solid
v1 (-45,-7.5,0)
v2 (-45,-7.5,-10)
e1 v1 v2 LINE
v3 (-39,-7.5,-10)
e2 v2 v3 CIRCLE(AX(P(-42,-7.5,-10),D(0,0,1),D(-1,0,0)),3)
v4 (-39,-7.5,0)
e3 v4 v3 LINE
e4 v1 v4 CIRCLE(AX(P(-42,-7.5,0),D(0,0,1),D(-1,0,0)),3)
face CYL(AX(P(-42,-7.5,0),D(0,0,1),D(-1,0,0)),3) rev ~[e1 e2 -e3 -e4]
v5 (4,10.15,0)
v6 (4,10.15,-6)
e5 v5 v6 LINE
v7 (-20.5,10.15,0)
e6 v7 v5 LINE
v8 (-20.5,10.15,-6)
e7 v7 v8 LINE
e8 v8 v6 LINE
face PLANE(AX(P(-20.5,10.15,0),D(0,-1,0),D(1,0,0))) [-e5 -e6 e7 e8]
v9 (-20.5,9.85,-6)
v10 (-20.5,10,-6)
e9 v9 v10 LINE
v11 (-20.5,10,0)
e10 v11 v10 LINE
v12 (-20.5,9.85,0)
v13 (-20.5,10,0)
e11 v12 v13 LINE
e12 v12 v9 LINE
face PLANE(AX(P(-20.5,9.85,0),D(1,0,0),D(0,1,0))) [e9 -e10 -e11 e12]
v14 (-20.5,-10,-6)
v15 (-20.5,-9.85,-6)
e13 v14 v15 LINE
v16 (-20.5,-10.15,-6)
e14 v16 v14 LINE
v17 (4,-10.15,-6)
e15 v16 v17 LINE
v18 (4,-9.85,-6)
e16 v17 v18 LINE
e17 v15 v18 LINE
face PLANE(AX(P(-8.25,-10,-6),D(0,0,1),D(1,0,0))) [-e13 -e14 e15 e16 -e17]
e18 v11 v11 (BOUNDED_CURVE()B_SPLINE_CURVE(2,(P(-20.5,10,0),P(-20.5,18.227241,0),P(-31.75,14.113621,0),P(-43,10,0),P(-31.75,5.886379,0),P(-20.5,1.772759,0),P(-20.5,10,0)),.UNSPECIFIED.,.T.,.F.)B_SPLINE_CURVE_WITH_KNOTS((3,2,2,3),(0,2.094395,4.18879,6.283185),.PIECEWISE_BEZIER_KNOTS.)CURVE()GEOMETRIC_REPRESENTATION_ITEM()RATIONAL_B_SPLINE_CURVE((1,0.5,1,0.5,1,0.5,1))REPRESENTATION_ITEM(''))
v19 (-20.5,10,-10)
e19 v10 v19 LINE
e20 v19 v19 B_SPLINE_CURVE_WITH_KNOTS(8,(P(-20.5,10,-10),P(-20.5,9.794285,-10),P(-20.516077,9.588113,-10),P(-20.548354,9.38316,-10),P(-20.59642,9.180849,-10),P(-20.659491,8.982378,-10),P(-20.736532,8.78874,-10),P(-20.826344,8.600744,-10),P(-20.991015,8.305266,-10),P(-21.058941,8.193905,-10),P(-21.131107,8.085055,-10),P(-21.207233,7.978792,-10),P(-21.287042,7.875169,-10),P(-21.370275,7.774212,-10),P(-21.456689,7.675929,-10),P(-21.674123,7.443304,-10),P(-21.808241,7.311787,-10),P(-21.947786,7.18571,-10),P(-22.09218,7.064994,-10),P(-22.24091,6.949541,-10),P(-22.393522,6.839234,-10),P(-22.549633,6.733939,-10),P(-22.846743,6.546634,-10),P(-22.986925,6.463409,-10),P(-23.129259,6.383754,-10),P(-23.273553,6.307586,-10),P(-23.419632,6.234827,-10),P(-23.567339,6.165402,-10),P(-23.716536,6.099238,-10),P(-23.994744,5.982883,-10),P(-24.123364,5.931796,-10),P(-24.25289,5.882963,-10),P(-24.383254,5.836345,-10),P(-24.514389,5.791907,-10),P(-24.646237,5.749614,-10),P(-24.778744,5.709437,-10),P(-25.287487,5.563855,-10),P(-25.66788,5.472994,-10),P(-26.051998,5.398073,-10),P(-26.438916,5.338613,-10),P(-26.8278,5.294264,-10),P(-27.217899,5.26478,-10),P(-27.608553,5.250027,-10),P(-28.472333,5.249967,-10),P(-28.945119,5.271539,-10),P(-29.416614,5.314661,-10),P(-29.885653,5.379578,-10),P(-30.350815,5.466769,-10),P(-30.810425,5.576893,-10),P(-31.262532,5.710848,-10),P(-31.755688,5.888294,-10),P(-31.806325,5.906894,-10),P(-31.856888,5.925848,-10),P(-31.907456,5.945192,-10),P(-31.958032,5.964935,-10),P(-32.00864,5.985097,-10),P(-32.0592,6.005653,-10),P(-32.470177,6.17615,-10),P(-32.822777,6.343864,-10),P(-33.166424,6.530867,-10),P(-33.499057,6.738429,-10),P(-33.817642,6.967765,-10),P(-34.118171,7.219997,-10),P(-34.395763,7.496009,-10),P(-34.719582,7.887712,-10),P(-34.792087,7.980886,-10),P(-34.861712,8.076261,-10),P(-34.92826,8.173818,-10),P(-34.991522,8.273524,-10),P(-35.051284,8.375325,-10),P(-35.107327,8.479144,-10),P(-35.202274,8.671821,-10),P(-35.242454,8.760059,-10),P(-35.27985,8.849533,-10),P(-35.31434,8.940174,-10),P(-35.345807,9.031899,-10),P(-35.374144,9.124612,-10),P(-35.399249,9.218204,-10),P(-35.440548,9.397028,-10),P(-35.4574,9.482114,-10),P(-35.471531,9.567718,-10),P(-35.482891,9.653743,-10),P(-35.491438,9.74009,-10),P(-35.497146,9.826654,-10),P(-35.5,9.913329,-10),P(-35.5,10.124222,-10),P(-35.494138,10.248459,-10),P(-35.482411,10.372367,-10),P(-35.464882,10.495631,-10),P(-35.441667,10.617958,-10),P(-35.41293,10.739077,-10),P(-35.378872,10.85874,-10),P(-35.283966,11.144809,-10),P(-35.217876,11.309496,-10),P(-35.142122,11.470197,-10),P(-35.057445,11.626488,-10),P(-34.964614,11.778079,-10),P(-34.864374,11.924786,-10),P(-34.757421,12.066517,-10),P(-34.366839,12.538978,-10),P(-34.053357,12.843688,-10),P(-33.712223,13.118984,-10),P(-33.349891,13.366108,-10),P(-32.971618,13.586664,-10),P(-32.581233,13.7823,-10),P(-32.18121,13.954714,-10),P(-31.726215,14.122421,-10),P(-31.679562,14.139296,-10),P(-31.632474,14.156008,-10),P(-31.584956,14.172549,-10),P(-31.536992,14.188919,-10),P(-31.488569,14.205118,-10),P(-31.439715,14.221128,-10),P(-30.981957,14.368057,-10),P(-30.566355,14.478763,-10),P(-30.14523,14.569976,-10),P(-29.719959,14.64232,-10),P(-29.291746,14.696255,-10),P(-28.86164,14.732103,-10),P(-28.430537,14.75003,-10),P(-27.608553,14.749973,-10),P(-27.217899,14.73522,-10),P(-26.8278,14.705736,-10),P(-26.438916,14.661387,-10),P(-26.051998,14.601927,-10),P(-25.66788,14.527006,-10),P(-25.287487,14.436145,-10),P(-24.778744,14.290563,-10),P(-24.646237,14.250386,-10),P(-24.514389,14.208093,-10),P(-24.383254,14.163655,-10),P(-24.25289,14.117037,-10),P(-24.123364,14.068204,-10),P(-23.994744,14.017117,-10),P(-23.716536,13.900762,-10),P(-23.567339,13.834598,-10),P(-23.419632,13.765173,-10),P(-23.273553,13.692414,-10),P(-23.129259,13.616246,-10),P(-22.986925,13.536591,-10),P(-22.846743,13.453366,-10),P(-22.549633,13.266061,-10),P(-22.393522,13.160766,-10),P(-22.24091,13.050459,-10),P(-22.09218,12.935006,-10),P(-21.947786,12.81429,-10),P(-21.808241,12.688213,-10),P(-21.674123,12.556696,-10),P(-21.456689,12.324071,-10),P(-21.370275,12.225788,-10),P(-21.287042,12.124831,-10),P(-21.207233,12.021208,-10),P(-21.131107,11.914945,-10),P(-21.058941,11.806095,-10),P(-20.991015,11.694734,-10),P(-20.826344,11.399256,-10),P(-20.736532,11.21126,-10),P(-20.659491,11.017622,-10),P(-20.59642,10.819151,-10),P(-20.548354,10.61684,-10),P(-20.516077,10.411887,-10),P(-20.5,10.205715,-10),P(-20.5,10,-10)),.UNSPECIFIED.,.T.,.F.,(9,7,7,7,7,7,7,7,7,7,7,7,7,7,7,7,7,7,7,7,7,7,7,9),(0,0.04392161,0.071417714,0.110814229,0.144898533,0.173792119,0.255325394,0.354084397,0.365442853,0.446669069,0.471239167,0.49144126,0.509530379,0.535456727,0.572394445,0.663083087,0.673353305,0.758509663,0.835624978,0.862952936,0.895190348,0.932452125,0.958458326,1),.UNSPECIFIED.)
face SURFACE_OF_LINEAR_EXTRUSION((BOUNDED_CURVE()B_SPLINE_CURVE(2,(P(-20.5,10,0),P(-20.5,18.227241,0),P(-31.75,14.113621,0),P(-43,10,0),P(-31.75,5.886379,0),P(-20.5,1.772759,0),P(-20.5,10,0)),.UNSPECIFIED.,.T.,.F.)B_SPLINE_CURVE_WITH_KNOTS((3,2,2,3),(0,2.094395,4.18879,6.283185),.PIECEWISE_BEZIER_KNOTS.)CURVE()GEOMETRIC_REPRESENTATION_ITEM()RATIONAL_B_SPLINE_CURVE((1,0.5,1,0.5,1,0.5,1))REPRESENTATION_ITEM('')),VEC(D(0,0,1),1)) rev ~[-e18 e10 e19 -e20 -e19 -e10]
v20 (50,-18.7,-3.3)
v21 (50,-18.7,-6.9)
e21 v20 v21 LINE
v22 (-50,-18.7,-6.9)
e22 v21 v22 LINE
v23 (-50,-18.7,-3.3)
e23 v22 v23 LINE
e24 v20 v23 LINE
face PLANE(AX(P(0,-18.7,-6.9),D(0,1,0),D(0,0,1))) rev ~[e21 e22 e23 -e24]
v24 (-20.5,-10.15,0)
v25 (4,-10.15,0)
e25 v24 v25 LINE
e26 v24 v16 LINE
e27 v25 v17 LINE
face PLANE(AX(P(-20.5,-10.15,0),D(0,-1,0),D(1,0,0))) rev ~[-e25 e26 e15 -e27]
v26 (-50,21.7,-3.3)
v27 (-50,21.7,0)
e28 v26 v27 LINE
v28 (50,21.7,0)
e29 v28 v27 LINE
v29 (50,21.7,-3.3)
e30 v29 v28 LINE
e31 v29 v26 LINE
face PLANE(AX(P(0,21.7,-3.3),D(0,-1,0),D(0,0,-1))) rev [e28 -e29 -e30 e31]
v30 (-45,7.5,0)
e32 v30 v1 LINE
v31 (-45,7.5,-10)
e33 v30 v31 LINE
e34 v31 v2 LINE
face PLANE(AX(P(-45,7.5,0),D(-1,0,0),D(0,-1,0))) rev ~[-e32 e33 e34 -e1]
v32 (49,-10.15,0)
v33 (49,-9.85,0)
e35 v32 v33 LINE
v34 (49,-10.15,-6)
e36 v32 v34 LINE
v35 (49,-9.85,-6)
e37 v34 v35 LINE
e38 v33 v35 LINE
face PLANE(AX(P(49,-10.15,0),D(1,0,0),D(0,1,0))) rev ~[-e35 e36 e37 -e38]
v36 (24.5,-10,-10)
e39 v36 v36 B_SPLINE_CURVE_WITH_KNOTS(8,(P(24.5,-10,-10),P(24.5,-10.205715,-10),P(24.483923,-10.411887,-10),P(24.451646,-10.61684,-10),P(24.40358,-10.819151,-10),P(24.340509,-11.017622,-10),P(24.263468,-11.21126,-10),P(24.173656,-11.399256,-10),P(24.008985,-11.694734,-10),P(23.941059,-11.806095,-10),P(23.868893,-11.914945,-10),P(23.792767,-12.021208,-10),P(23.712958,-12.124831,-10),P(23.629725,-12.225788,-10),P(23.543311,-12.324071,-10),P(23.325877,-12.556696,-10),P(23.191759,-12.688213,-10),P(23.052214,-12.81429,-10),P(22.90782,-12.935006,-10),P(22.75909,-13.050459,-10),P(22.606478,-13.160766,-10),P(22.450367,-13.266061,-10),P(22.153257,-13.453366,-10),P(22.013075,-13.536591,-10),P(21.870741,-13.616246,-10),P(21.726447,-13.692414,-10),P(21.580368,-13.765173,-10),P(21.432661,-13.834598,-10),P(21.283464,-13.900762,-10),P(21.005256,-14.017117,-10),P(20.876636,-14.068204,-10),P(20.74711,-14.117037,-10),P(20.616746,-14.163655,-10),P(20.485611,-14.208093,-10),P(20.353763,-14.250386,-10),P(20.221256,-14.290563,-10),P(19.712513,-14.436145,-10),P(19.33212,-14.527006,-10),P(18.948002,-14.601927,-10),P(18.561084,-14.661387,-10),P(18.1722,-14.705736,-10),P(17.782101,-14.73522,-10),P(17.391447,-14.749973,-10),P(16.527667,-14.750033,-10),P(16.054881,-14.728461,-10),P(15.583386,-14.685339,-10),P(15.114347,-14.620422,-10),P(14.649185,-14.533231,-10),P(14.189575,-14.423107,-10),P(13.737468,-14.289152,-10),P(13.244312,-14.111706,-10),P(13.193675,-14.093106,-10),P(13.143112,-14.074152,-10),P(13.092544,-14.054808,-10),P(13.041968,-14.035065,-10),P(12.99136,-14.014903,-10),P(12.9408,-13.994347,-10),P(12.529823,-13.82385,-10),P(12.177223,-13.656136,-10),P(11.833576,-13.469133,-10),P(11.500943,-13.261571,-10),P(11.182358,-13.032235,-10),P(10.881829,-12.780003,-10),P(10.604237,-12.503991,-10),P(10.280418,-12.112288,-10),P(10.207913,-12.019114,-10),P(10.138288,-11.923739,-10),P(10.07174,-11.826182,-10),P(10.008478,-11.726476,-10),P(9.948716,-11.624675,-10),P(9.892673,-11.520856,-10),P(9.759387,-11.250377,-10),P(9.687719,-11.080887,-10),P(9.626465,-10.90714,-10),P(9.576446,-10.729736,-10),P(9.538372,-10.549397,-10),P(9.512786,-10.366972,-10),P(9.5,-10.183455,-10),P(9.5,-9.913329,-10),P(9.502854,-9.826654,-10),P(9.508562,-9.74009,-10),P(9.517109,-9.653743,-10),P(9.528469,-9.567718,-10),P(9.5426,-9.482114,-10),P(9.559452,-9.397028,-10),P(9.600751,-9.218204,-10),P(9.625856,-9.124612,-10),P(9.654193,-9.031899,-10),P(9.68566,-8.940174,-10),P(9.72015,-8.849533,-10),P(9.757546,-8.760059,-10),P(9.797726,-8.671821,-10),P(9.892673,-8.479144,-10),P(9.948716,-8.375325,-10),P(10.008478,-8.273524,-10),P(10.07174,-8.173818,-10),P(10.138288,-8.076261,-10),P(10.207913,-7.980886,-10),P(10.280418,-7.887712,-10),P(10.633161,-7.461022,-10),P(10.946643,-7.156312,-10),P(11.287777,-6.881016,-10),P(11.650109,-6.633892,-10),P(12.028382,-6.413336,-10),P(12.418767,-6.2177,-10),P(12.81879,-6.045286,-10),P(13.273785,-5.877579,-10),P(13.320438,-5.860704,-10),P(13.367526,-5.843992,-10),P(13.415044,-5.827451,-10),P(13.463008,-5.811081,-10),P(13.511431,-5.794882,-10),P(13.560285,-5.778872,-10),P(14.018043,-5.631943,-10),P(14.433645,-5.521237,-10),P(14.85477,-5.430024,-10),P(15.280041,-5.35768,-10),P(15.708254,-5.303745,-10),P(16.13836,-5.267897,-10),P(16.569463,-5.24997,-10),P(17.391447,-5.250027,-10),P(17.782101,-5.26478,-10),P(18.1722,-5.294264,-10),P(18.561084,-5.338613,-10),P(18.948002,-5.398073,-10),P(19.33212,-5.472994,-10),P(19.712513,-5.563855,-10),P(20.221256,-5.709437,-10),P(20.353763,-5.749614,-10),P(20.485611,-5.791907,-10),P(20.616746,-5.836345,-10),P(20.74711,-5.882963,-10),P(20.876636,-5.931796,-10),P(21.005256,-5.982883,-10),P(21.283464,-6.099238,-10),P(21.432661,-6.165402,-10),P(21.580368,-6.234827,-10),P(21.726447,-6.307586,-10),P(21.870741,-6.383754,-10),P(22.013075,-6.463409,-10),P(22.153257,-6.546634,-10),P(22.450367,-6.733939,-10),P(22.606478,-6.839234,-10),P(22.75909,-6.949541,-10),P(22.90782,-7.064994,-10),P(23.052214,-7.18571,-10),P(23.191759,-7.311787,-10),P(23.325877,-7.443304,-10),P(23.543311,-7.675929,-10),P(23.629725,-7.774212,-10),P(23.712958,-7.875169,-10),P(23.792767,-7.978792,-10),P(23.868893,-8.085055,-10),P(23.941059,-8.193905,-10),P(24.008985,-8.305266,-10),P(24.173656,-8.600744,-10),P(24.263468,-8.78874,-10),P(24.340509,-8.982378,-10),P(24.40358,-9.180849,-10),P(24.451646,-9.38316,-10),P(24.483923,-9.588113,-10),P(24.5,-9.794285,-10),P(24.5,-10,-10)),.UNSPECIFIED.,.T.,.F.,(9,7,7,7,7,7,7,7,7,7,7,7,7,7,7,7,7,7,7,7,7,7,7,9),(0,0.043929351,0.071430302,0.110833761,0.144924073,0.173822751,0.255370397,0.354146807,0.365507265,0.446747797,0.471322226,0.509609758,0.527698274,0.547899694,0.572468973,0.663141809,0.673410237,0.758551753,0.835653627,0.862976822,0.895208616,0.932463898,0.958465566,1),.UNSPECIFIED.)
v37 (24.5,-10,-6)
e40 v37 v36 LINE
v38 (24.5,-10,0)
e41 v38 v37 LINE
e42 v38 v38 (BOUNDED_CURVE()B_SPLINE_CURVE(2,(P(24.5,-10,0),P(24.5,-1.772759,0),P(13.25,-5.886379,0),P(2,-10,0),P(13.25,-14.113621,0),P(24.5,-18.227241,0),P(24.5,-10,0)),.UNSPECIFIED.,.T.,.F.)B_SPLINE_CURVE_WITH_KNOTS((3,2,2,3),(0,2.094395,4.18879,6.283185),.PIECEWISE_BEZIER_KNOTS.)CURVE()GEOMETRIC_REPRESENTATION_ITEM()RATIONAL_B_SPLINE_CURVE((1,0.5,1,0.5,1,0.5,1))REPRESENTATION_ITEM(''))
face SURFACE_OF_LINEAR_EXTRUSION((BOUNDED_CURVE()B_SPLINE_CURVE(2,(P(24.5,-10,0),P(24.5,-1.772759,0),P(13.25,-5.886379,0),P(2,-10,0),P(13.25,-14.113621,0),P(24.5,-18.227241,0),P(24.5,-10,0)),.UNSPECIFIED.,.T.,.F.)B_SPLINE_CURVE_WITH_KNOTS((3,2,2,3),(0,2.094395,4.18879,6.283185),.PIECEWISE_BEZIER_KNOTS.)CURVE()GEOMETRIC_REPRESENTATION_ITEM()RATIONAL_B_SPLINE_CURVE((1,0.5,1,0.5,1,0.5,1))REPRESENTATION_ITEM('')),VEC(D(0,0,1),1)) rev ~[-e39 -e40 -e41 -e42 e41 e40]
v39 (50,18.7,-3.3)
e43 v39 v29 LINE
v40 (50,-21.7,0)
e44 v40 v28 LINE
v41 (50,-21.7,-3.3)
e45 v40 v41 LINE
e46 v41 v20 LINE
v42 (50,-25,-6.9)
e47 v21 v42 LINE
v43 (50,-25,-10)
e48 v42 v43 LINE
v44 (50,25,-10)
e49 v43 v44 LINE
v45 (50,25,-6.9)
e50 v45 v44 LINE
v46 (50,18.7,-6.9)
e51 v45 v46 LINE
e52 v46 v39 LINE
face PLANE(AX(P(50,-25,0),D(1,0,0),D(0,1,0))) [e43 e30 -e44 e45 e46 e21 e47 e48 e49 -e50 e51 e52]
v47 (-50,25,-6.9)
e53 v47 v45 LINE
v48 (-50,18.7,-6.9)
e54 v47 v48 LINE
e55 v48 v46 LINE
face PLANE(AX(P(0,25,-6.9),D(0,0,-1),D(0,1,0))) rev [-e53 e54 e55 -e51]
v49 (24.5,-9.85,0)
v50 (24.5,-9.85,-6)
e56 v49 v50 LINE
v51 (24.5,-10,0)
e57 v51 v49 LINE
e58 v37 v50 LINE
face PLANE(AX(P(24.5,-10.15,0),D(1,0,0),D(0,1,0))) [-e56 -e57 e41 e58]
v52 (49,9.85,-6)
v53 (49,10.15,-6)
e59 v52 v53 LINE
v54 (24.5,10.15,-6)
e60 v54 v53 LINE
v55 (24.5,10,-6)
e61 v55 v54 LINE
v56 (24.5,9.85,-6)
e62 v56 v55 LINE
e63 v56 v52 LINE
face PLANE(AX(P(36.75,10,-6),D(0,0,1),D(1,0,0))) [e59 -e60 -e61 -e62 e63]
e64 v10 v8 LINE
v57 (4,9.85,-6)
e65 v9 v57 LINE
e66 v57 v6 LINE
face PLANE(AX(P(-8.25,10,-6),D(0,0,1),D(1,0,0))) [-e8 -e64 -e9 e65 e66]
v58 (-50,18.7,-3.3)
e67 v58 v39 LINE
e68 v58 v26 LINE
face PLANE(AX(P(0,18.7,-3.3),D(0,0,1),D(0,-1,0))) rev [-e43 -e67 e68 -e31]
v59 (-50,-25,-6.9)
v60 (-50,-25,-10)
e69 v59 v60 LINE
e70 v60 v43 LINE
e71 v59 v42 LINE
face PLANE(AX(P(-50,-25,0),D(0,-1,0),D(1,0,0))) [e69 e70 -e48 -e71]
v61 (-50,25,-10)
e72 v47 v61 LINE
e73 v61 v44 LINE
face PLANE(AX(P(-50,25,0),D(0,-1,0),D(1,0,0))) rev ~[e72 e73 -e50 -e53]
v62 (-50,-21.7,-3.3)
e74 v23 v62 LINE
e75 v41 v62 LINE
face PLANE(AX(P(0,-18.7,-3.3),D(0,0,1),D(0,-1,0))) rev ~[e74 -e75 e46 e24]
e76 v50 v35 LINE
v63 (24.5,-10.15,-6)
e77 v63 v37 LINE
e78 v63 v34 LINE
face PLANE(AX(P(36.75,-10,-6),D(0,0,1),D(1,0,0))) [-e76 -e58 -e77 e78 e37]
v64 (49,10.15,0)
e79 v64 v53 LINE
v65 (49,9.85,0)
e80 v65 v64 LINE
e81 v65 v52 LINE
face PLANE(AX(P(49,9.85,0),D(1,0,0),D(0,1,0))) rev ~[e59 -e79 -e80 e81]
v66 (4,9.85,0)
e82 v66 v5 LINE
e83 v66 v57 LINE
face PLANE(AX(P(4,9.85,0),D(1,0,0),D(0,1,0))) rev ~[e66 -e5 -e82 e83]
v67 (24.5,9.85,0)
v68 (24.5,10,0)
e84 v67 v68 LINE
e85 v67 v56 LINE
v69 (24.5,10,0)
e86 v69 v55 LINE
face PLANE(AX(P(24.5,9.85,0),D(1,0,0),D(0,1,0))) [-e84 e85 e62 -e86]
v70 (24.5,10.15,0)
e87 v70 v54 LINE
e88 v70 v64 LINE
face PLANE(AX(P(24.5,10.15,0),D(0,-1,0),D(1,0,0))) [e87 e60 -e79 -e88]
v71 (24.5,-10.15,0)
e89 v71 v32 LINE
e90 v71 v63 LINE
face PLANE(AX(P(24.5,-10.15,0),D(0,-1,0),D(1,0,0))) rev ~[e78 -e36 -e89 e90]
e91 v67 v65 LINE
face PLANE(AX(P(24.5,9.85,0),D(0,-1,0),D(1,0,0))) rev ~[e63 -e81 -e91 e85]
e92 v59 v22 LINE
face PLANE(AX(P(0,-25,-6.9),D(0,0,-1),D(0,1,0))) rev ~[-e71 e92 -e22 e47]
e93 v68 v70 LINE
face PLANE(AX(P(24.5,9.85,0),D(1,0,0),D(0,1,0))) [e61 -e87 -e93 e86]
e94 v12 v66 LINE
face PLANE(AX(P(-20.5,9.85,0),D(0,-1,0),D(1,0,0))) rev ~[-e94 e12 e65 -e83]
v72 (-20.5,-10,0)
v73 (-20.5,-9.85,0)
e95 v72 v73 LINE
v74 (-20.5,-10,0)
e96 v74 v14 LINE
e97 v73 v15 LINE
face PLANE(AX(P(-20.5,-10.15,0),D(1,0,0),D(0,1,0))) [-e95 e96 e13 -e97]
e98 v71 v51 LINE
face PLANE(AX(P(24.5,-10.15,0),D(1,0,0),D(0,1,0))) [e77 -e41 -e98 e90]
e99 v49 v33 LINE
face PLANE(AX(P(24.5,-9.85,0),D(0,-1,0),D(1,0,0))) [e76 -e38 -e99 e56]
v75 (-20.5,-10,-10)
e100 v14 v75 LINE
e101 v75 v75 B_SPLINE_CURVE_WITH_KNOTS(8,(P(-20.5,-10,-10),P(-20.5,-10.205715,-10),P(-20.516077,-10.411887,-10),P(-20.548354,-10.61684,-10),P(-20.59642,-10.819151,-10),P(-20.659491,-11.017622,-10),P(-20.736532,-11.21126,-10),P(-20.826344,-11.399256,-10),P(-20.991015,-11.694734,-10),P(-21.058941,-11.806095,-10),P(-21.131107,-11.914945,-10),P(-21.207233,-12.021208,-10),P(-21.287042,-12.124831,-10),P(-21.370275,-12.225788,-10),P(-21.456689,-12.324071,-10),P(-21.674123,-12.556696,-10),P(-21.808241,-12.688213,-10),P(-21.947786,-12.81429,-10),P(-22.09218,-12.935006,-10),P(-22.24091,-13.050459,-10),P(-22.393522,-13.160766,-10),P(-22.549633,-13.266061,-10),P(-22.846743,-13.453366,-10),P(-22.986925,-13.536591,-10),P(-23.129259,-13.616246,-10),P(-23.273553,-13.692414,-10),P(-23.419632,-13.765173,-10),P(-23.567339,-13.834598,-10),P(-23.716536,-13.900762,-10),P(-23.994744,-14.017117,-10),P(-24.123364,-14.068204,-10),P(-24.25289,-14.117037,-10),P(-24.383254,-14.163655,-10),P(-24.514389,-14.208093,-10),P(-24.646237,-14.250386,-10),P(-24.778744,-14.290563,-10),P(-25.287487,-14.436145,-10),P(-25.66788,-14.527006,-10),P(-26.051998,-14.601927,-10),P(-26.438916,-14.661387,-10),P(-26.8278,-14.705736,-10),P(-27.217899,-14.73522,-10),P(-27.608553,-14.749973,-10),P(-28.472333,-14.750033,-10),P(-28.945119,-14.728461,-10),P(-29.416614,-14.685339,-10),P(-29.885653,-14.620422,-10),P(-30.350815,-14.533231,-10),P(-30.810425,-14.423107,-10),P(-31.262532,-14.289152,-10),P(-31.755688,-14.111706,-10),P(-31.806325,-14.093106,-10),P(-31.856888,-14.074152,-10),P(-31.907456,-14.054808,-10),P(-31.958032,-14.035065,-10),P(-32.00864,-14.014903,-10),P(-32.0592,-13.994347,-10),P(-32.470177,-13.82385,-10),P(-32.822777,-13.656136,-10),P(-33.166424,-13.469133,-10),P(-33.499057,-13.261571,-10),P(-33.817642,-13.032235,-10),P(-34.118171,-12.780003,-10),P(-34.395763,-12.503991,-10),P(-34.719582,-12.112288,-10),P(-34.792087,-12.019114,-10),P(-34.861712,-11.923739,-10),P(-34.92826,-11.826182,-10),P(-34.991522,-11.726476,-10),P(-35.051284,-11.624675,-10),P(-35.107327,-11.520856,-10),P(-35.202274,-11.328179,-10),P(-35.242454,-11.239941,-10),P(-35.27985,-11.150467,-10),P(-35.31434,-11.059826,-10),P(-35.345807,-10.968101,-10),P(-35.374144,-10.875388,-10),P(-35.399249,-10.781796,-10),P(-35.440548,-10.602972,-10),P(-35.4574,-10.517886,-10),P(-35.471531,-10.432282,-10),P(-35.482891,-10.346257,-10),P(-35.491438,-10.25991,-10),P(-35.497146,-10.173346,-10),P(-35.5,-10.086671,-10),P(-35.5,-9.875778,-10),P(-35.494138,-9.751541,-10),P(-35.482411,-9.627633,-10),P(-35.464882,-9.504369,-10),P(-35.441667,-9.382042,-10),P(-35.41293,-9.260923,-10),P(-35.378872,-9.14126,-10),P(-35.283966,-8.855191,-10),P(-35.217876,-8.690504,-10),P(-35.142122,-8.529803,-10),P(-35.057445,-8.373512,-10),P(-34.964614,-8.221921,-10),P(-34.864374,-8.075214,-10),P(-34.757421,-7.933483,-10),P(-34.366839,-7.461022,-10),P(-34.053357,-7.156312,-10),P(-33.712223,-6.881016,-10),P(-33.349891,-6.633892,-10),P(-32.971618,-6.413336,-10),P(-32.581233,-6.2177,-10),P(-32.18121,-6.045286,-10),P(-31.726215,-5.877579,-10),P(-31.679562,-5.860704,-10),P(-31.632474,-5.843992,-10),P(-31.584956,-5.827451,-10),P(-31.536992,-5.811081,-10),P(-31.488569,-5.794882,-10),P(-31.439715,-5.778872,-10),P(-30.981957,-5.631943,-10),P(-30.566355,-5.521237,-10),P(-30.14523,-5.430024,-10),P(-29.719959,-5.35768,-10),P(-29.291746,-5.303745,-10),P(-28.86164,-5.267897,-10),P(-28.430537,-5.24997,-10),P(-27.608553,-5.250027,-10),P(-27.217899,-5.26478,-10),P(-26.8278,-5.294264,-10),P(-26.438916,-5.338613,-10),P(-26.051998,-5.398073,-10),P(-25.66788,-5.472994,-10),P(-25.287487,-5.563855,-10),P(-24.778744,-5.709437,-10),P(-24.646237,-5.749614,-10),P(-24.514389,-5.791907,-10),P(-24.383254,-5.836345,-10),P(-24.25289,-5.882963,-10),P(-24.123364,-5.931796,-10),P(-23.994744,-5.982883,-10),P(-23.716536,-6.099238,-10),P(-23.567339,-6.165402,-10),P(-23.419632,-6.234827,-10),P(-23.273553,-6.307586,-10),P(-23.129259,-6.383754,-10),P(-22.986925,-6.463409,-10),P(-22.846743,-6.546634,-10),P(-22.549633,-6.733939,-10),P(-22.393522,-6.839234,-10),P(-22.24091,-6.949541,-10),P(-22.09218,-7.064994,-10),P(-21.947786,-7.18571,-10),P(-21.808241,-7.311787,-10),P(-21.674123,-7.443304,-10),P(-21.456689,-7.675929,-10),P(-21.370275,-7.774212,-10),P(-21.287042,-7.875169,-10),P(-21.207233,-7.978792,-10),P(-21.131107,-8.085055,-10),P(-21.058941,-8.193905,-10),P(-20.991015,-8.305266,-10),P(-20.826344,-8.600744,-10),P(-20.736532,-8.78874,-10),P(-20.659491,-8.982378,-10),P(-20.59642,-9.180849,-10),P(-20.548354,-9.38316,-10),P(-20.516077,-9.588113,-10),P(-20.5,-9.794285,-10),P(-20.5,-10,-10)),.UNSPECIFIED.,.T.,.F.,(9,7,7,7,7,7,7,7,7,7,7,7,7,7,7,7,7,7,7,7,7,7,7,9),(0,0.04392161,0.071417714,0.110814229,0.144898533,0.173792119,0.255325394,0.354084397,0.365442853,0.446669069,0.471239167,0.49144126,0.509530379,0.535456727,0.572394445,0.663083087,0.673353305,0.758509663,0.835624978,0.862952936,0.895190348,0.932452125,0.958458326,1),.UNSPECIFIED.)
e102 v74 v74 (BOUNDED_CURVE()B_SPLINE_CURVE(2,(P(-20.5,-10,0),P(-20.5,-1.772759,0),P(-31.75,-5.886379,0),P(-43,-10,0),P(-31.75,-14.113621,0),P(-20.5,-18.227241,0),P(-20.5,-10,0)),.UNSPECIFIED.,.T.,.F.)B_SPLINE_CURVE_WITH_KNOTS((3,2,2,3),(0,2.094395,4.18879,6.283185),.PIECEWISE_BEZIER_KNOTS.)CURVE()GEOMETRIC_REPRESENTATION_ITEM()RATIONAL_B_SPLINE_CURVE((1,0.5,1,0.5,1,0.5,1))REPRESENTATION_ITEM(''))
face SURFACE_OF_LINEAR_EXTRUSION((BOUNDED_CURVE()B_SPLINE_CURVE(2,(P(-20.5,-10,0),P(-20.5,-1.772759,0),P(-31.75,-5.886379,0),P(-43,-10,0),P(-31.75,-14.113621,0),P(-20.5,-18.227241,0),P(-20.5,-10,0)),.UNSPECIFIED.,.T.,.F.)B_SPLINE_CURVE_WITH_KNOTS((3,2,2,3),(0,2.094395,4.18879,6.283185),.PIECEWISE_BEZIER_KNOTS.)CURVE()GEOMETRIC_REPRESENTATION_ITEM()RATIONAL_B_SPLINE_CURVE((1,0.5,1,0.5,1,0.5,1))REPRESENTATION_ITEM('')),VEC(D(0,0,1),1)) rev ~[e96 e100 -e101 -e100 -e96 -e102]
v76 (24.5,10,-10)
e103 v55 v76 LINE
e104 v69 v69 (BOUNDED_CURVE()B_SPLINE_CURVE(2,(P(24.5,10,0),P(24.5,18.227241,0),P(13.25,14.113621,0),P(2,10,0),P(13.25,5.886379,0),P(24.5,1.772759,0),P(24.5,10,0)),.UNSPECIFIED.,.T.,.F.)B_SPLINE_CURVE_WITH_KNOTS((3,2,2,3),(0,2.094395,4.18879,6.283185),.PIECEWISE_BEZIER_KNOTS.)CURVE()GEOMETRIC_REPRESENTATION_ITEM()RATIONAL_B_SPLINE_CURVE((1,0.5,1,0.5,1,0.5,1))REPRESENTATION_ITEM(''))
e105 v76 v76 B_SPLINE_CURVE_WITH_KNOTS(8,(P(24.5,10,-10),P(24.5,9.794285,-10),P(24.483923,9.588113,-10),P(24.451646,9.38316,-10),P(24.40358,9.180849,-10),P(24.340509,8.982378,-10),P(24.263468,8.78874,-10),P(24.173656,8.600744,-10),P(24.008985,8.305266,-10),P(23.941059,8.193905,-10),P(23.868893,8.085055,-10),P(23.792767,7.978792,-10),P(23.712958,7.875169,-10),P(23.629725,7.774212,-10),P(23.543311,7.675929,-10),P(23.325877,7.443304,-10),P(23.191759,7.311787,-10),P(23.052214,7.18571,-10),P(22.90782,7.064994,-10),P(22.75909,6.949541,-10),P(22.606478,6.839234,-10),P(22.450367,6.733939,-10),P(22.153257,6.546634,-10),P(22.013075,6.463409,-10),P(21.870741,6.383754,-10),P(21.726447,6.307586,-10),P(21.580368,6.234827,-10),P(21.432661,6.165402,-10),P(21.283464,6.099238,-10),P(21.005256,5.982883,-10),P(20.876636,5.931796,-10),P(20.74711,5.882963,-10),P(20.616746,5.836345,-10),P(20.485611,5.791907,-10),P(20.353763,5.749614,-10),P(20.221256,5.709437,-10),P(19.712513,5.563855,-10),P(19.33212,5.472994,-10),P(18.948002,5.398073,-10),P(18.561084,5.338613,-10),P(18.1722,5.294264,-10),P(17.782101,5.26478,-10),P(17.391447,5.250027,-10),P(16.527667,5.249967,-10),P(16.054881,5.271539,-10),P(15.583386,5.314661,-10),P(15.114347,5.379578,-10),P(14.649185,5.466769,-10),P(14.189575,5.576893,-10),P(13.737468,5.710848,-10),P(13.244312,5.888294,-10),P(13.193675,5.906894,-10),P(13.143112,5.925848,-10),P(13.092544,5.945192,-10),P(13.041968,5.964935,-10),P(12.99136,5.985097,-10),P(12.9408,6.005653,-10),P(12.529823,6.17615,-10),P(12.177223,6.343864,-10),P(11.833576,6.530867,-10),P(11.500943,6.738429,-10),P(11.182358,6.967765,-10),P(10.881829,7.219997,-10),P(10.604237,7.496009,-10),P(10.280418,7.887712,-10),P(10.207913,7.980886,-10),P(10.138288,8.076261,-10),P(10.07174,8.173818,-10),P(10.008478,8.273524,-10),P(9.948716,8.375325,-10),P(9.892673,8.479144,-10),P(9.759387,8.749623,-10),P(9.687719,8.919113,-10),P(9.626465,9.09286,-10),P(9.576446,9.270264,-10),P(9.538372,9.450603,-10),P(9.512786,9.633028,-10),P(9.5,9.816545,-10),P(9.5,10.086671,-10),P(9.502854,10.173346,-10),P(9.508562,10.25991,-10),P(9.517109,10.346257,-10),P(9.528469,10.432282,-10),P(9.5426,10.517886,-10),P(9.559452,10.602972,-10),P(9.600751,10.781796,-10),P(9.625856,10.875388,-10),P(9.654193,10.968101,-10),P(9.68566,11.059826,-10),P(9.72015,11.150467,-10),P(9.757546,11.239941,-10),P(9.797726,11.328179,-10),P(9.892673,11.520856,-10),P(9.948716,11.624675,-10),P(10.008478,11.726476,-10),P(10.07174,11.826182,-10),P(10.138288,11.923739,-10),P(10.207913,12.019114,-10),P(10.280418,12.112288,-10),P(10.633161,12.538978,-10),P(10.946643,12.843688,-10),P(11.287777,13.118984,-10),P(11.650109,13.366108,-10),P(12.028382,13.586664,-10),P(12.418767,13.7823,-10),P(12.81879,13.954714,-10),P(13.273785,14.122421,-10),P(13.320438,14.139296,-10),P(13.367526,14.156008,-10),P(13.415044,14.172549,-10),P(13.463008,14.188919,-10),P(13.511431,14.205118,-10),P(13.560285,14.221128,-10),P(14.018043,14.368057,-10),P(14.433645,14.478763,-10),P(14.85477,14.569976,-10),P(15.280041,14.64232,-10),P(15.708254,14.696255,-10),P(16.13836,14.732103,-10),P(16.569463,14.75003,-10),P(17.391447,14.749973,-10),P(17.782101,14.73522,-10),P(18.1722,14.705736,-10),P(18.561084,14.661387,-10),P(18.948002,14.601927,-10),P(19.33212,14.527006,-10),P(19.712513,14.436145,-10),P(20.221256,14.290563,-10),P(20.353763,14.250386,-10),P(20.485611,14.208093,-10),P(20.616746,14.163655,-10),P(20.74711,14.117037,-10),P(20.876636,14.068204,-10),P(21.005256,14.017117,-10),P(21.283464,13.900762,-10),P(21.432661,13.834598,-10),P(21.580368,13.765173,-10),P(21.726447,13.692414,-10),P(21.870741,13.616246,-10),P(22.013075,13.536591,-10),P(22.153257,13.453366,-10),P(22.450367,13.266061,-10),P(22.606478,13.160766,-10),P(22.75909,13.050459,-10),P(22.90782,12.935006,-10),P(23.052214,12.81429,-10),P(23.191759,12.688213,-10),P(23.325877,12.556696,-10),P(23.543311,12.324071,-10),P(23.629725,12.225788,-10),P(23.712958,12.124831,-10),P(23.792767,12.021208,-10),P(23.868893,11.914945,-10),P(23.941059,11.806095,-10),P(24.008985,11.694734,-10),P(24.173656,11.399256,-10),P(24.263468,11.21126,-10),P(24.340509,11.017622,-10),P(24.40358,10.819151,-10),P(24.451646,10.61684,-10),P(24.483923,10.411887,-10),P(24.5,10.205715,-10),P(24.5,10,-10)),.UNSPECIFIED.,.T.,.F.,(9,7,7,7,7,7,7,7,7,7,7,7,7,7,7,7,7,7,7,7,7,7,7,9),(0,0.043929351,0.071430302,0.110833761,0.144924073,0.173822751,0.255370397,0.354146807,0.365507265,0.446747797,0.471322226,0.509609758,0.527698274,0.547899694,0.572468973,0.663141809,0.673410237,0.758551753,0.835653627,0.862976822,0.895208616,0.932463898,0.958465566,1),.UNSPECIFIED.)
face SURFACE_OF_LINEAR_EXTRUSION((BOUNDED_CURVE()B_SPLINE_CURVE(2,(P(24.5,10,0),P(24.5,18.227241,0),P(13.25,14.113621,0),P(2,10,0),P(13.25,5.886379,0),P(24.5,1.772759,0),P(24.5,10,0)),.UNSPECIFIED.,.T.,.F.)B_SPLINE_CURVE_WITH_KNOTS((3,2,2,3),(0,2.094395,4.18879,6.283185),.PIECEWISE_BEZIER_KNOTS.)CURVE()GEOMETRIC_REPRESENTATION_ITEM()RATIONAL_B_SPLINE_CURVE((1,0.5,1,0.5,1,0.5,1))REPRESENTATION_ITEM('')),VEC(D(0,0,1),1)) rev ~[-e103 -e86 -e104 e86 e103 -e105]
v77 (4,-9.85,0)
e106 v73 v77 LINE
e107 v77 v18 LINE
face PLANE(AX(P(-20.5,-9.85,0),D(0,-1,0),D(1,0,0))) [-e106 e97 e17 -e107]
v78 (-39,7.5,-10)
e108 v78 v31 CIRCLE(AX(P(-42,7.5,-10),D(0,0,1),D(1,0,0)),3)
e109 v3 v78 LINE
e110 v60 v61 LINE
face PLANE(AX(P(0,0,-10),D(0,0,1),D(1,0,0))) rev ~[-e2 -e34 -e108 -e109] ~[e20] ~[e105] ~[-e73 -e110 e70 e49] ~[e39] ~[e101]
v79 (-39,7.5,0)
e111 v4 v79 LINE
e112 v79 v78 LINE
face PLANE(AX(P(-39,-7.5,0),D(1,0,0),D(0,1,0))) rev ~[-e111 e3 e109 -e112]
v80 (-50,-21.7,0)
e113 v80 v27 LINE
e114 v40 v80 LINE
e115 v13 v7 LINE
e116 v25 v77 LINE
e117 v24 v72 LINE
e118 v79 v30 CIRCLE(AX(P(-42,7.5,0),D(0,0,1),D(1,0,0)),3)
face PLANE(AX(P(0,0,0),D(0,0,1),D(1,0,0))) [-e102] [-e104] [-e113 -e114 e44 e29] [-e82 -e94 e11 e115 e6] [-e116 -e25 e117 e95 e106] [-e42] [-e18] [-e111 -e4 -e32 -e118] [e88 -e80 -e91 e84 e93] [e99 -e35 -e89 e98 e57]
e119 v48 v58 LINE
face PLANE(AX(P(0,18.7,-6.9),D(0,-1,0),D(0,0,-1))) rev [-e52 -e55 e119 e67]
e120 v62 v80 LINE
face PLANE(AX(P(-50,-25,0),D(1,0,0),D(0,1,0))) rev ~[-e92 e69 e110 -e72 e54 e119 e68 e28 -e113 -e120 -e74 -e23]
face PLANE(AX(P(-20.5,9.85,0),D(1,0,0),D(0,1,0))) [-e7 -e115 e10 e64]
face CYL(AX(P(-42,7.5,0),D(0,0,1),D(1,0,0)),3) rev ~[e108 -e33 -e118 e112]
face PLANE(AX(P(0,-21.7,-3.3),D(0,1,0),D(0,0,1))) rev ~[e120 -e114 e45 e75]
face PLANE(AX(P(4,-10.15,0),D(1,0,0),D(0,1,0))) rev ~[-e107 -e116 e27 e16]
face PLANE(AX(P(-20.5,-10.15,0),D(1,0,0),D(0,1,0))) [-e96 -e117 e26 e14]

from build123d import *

# Parameters (mm, degrees)
SKETCH_W             = 100
SKETCH_H             = 50
PAD_DEPTH            = 10
POCKET_DEPTH         = 21
POCKET001_DEPTH      = 274.500444
POCKET001_DEPTH_BACK = 274.500444
POCKET002_DEPTH      = 10.001
SKETCH005_W          = 24.5
SKETCH005_H          = 0.3
POCKET003_DEPTH      = 6


with BuildPart() as part:
    # Sketch → Pad (new body)
    with BuildSketch(Plane.XY):
        Rectangle(SKETCH_W, SKETCH_H)
    extrude(amount=-PAD_DEPTH)

    # Sketch001 → Pocket (cut)
    with BuildSketch(Plane.XY):
        with BuildLine():
            add(Edge.make_bspline(
                [(-20.5, 10), (-20.5, 18.227241), (-31.75, 14.113621), (-43, 10), (-31.75, 5.886379), (-20.5, 1.772759), (-20.5, 10)],
                knots=[0, 0, 0, 2.094395, 2.094395, 4.18879, 4.18879, 6.283185, 6.283185, 6.283185], degree=2, weights=[1, 0.5, 1, 0.5, 1, 0.5, 1]))
        make_face()
        with BuildLine():
            add(Edge.make_bspline(
                [(24.5, 10), (24.5, 18.227241), (13.25, 14.113621), (2, 10), (13.25, 5.886379), (24.5, 1.772759), (24.5, 10)],
                knots=[0, 0, 0, 2.094395, 2.094395, 4.18879, 4.18879, 6.283185, 6.283185, 6.283185], degree=2, weights=[1, 0.5, 1, 0.5, 1, 0.5, 1]))
        make_face()
        with BuildLine():
            add(Edge.make_bspline(
                [(-20.5, -10), (-20.5, -1.772759), (-31.75, -5.886379), (-43, -10), (-31.75, -14.113621), (-20.5, -18.227241), (-20.5, -10)],
                knots=[0, 0, 0, 2.094395, 2.094395, 4.18879, 4.18879, 6.283185, 6.283185, 6.283185], degree=2, weights=[1, 0.5, 1, 0.5, 1, 0.5, 1]))
        make_face()
        with BuildLine():
            add(Edge.make_bspline(
                [(24.5, -10), (24.5, -1.772759), (13.25, -5.886379), (2, -10), (13.25, -14.113621), (24.5, -18.227241), (24.5, -10)],
                knots=[0, 0, 0, 2.094395, 2.094395, 4.18879, 4.18879, 6.283185, 6.283185, 6.283185], degree=2, weights=[1, 0.5, 1, 0.5, 1, 0.5, 1]))
        make_face()
    extrude(amount=-POCKET_DEPTH, mode=Mode.SUBTRACT)

    # Sketch003 → Pocket001 (cut, two sides)
    with BuildSketch(Plane.YZ) as pocket001_sk:
        Polygon((-25, 0), (-25, -6.9), (-18.7, -6.9), (-18.7, -3.3), (-21.7, -3.3), (-21.7, 0), align=None)
    pocket001 = extrude(amount=-POCKET001_DEPTH, mode=Mode.SUBTRACT) + extrude(pocket001_sk.sketch, amount=POCKET001_DEPTH_BACK, mode=Mode.SUBTRACT)

    # Mirrored: Pocket001 across Sketch003 V_Axis
    add(pocket001.mirror(Plane(origin=(0, 0, 0), x_dir=(1, 0, 0), z_dir=(0, 1, 0))), mode=Mode.SUBTRACT)

    # Sketch004 → Pocket002 (cut, through all)
    with BuildSketch(Plane.XY):
        with BuildLine():
            ThreePointArc((-39, 7.5), (-42, 10.5), (-45, 7.5))
            Line((-45, 7.5), (-45, -7.5))
            ThreePointArc((-45, -7.5), (-42, -10.5), (-39, -7.5))
            Line((-39, -7.5), (-39, 7.5))
        make_face()
    extrude(amount=-POCKET002_DEPTH, mode=Mode.SUBTRACT)

    # Sketch005 → Pocket003 (cut)
    with BuildSketch(Plane.XY):
        with Locations((-8.25, 10)):
            Rectangle(SKETCH005_W, SKETCH005_H)
        with Locations((36.75, 10)):
            Rectangle(SKETCH005_W, SKETCH005_H)
        with Locations((-8.25, -10)):
            Rectangle(SKETCH005_W, SKETCH005_H)
        with Locations((36.75, -10)):
            Rectangle(SKETCH005_W, SKETCH005_H)
    extrude(amount=-POCKET003_DEPTH, mode=Mode.SUBTRACT)


solid = part.part
